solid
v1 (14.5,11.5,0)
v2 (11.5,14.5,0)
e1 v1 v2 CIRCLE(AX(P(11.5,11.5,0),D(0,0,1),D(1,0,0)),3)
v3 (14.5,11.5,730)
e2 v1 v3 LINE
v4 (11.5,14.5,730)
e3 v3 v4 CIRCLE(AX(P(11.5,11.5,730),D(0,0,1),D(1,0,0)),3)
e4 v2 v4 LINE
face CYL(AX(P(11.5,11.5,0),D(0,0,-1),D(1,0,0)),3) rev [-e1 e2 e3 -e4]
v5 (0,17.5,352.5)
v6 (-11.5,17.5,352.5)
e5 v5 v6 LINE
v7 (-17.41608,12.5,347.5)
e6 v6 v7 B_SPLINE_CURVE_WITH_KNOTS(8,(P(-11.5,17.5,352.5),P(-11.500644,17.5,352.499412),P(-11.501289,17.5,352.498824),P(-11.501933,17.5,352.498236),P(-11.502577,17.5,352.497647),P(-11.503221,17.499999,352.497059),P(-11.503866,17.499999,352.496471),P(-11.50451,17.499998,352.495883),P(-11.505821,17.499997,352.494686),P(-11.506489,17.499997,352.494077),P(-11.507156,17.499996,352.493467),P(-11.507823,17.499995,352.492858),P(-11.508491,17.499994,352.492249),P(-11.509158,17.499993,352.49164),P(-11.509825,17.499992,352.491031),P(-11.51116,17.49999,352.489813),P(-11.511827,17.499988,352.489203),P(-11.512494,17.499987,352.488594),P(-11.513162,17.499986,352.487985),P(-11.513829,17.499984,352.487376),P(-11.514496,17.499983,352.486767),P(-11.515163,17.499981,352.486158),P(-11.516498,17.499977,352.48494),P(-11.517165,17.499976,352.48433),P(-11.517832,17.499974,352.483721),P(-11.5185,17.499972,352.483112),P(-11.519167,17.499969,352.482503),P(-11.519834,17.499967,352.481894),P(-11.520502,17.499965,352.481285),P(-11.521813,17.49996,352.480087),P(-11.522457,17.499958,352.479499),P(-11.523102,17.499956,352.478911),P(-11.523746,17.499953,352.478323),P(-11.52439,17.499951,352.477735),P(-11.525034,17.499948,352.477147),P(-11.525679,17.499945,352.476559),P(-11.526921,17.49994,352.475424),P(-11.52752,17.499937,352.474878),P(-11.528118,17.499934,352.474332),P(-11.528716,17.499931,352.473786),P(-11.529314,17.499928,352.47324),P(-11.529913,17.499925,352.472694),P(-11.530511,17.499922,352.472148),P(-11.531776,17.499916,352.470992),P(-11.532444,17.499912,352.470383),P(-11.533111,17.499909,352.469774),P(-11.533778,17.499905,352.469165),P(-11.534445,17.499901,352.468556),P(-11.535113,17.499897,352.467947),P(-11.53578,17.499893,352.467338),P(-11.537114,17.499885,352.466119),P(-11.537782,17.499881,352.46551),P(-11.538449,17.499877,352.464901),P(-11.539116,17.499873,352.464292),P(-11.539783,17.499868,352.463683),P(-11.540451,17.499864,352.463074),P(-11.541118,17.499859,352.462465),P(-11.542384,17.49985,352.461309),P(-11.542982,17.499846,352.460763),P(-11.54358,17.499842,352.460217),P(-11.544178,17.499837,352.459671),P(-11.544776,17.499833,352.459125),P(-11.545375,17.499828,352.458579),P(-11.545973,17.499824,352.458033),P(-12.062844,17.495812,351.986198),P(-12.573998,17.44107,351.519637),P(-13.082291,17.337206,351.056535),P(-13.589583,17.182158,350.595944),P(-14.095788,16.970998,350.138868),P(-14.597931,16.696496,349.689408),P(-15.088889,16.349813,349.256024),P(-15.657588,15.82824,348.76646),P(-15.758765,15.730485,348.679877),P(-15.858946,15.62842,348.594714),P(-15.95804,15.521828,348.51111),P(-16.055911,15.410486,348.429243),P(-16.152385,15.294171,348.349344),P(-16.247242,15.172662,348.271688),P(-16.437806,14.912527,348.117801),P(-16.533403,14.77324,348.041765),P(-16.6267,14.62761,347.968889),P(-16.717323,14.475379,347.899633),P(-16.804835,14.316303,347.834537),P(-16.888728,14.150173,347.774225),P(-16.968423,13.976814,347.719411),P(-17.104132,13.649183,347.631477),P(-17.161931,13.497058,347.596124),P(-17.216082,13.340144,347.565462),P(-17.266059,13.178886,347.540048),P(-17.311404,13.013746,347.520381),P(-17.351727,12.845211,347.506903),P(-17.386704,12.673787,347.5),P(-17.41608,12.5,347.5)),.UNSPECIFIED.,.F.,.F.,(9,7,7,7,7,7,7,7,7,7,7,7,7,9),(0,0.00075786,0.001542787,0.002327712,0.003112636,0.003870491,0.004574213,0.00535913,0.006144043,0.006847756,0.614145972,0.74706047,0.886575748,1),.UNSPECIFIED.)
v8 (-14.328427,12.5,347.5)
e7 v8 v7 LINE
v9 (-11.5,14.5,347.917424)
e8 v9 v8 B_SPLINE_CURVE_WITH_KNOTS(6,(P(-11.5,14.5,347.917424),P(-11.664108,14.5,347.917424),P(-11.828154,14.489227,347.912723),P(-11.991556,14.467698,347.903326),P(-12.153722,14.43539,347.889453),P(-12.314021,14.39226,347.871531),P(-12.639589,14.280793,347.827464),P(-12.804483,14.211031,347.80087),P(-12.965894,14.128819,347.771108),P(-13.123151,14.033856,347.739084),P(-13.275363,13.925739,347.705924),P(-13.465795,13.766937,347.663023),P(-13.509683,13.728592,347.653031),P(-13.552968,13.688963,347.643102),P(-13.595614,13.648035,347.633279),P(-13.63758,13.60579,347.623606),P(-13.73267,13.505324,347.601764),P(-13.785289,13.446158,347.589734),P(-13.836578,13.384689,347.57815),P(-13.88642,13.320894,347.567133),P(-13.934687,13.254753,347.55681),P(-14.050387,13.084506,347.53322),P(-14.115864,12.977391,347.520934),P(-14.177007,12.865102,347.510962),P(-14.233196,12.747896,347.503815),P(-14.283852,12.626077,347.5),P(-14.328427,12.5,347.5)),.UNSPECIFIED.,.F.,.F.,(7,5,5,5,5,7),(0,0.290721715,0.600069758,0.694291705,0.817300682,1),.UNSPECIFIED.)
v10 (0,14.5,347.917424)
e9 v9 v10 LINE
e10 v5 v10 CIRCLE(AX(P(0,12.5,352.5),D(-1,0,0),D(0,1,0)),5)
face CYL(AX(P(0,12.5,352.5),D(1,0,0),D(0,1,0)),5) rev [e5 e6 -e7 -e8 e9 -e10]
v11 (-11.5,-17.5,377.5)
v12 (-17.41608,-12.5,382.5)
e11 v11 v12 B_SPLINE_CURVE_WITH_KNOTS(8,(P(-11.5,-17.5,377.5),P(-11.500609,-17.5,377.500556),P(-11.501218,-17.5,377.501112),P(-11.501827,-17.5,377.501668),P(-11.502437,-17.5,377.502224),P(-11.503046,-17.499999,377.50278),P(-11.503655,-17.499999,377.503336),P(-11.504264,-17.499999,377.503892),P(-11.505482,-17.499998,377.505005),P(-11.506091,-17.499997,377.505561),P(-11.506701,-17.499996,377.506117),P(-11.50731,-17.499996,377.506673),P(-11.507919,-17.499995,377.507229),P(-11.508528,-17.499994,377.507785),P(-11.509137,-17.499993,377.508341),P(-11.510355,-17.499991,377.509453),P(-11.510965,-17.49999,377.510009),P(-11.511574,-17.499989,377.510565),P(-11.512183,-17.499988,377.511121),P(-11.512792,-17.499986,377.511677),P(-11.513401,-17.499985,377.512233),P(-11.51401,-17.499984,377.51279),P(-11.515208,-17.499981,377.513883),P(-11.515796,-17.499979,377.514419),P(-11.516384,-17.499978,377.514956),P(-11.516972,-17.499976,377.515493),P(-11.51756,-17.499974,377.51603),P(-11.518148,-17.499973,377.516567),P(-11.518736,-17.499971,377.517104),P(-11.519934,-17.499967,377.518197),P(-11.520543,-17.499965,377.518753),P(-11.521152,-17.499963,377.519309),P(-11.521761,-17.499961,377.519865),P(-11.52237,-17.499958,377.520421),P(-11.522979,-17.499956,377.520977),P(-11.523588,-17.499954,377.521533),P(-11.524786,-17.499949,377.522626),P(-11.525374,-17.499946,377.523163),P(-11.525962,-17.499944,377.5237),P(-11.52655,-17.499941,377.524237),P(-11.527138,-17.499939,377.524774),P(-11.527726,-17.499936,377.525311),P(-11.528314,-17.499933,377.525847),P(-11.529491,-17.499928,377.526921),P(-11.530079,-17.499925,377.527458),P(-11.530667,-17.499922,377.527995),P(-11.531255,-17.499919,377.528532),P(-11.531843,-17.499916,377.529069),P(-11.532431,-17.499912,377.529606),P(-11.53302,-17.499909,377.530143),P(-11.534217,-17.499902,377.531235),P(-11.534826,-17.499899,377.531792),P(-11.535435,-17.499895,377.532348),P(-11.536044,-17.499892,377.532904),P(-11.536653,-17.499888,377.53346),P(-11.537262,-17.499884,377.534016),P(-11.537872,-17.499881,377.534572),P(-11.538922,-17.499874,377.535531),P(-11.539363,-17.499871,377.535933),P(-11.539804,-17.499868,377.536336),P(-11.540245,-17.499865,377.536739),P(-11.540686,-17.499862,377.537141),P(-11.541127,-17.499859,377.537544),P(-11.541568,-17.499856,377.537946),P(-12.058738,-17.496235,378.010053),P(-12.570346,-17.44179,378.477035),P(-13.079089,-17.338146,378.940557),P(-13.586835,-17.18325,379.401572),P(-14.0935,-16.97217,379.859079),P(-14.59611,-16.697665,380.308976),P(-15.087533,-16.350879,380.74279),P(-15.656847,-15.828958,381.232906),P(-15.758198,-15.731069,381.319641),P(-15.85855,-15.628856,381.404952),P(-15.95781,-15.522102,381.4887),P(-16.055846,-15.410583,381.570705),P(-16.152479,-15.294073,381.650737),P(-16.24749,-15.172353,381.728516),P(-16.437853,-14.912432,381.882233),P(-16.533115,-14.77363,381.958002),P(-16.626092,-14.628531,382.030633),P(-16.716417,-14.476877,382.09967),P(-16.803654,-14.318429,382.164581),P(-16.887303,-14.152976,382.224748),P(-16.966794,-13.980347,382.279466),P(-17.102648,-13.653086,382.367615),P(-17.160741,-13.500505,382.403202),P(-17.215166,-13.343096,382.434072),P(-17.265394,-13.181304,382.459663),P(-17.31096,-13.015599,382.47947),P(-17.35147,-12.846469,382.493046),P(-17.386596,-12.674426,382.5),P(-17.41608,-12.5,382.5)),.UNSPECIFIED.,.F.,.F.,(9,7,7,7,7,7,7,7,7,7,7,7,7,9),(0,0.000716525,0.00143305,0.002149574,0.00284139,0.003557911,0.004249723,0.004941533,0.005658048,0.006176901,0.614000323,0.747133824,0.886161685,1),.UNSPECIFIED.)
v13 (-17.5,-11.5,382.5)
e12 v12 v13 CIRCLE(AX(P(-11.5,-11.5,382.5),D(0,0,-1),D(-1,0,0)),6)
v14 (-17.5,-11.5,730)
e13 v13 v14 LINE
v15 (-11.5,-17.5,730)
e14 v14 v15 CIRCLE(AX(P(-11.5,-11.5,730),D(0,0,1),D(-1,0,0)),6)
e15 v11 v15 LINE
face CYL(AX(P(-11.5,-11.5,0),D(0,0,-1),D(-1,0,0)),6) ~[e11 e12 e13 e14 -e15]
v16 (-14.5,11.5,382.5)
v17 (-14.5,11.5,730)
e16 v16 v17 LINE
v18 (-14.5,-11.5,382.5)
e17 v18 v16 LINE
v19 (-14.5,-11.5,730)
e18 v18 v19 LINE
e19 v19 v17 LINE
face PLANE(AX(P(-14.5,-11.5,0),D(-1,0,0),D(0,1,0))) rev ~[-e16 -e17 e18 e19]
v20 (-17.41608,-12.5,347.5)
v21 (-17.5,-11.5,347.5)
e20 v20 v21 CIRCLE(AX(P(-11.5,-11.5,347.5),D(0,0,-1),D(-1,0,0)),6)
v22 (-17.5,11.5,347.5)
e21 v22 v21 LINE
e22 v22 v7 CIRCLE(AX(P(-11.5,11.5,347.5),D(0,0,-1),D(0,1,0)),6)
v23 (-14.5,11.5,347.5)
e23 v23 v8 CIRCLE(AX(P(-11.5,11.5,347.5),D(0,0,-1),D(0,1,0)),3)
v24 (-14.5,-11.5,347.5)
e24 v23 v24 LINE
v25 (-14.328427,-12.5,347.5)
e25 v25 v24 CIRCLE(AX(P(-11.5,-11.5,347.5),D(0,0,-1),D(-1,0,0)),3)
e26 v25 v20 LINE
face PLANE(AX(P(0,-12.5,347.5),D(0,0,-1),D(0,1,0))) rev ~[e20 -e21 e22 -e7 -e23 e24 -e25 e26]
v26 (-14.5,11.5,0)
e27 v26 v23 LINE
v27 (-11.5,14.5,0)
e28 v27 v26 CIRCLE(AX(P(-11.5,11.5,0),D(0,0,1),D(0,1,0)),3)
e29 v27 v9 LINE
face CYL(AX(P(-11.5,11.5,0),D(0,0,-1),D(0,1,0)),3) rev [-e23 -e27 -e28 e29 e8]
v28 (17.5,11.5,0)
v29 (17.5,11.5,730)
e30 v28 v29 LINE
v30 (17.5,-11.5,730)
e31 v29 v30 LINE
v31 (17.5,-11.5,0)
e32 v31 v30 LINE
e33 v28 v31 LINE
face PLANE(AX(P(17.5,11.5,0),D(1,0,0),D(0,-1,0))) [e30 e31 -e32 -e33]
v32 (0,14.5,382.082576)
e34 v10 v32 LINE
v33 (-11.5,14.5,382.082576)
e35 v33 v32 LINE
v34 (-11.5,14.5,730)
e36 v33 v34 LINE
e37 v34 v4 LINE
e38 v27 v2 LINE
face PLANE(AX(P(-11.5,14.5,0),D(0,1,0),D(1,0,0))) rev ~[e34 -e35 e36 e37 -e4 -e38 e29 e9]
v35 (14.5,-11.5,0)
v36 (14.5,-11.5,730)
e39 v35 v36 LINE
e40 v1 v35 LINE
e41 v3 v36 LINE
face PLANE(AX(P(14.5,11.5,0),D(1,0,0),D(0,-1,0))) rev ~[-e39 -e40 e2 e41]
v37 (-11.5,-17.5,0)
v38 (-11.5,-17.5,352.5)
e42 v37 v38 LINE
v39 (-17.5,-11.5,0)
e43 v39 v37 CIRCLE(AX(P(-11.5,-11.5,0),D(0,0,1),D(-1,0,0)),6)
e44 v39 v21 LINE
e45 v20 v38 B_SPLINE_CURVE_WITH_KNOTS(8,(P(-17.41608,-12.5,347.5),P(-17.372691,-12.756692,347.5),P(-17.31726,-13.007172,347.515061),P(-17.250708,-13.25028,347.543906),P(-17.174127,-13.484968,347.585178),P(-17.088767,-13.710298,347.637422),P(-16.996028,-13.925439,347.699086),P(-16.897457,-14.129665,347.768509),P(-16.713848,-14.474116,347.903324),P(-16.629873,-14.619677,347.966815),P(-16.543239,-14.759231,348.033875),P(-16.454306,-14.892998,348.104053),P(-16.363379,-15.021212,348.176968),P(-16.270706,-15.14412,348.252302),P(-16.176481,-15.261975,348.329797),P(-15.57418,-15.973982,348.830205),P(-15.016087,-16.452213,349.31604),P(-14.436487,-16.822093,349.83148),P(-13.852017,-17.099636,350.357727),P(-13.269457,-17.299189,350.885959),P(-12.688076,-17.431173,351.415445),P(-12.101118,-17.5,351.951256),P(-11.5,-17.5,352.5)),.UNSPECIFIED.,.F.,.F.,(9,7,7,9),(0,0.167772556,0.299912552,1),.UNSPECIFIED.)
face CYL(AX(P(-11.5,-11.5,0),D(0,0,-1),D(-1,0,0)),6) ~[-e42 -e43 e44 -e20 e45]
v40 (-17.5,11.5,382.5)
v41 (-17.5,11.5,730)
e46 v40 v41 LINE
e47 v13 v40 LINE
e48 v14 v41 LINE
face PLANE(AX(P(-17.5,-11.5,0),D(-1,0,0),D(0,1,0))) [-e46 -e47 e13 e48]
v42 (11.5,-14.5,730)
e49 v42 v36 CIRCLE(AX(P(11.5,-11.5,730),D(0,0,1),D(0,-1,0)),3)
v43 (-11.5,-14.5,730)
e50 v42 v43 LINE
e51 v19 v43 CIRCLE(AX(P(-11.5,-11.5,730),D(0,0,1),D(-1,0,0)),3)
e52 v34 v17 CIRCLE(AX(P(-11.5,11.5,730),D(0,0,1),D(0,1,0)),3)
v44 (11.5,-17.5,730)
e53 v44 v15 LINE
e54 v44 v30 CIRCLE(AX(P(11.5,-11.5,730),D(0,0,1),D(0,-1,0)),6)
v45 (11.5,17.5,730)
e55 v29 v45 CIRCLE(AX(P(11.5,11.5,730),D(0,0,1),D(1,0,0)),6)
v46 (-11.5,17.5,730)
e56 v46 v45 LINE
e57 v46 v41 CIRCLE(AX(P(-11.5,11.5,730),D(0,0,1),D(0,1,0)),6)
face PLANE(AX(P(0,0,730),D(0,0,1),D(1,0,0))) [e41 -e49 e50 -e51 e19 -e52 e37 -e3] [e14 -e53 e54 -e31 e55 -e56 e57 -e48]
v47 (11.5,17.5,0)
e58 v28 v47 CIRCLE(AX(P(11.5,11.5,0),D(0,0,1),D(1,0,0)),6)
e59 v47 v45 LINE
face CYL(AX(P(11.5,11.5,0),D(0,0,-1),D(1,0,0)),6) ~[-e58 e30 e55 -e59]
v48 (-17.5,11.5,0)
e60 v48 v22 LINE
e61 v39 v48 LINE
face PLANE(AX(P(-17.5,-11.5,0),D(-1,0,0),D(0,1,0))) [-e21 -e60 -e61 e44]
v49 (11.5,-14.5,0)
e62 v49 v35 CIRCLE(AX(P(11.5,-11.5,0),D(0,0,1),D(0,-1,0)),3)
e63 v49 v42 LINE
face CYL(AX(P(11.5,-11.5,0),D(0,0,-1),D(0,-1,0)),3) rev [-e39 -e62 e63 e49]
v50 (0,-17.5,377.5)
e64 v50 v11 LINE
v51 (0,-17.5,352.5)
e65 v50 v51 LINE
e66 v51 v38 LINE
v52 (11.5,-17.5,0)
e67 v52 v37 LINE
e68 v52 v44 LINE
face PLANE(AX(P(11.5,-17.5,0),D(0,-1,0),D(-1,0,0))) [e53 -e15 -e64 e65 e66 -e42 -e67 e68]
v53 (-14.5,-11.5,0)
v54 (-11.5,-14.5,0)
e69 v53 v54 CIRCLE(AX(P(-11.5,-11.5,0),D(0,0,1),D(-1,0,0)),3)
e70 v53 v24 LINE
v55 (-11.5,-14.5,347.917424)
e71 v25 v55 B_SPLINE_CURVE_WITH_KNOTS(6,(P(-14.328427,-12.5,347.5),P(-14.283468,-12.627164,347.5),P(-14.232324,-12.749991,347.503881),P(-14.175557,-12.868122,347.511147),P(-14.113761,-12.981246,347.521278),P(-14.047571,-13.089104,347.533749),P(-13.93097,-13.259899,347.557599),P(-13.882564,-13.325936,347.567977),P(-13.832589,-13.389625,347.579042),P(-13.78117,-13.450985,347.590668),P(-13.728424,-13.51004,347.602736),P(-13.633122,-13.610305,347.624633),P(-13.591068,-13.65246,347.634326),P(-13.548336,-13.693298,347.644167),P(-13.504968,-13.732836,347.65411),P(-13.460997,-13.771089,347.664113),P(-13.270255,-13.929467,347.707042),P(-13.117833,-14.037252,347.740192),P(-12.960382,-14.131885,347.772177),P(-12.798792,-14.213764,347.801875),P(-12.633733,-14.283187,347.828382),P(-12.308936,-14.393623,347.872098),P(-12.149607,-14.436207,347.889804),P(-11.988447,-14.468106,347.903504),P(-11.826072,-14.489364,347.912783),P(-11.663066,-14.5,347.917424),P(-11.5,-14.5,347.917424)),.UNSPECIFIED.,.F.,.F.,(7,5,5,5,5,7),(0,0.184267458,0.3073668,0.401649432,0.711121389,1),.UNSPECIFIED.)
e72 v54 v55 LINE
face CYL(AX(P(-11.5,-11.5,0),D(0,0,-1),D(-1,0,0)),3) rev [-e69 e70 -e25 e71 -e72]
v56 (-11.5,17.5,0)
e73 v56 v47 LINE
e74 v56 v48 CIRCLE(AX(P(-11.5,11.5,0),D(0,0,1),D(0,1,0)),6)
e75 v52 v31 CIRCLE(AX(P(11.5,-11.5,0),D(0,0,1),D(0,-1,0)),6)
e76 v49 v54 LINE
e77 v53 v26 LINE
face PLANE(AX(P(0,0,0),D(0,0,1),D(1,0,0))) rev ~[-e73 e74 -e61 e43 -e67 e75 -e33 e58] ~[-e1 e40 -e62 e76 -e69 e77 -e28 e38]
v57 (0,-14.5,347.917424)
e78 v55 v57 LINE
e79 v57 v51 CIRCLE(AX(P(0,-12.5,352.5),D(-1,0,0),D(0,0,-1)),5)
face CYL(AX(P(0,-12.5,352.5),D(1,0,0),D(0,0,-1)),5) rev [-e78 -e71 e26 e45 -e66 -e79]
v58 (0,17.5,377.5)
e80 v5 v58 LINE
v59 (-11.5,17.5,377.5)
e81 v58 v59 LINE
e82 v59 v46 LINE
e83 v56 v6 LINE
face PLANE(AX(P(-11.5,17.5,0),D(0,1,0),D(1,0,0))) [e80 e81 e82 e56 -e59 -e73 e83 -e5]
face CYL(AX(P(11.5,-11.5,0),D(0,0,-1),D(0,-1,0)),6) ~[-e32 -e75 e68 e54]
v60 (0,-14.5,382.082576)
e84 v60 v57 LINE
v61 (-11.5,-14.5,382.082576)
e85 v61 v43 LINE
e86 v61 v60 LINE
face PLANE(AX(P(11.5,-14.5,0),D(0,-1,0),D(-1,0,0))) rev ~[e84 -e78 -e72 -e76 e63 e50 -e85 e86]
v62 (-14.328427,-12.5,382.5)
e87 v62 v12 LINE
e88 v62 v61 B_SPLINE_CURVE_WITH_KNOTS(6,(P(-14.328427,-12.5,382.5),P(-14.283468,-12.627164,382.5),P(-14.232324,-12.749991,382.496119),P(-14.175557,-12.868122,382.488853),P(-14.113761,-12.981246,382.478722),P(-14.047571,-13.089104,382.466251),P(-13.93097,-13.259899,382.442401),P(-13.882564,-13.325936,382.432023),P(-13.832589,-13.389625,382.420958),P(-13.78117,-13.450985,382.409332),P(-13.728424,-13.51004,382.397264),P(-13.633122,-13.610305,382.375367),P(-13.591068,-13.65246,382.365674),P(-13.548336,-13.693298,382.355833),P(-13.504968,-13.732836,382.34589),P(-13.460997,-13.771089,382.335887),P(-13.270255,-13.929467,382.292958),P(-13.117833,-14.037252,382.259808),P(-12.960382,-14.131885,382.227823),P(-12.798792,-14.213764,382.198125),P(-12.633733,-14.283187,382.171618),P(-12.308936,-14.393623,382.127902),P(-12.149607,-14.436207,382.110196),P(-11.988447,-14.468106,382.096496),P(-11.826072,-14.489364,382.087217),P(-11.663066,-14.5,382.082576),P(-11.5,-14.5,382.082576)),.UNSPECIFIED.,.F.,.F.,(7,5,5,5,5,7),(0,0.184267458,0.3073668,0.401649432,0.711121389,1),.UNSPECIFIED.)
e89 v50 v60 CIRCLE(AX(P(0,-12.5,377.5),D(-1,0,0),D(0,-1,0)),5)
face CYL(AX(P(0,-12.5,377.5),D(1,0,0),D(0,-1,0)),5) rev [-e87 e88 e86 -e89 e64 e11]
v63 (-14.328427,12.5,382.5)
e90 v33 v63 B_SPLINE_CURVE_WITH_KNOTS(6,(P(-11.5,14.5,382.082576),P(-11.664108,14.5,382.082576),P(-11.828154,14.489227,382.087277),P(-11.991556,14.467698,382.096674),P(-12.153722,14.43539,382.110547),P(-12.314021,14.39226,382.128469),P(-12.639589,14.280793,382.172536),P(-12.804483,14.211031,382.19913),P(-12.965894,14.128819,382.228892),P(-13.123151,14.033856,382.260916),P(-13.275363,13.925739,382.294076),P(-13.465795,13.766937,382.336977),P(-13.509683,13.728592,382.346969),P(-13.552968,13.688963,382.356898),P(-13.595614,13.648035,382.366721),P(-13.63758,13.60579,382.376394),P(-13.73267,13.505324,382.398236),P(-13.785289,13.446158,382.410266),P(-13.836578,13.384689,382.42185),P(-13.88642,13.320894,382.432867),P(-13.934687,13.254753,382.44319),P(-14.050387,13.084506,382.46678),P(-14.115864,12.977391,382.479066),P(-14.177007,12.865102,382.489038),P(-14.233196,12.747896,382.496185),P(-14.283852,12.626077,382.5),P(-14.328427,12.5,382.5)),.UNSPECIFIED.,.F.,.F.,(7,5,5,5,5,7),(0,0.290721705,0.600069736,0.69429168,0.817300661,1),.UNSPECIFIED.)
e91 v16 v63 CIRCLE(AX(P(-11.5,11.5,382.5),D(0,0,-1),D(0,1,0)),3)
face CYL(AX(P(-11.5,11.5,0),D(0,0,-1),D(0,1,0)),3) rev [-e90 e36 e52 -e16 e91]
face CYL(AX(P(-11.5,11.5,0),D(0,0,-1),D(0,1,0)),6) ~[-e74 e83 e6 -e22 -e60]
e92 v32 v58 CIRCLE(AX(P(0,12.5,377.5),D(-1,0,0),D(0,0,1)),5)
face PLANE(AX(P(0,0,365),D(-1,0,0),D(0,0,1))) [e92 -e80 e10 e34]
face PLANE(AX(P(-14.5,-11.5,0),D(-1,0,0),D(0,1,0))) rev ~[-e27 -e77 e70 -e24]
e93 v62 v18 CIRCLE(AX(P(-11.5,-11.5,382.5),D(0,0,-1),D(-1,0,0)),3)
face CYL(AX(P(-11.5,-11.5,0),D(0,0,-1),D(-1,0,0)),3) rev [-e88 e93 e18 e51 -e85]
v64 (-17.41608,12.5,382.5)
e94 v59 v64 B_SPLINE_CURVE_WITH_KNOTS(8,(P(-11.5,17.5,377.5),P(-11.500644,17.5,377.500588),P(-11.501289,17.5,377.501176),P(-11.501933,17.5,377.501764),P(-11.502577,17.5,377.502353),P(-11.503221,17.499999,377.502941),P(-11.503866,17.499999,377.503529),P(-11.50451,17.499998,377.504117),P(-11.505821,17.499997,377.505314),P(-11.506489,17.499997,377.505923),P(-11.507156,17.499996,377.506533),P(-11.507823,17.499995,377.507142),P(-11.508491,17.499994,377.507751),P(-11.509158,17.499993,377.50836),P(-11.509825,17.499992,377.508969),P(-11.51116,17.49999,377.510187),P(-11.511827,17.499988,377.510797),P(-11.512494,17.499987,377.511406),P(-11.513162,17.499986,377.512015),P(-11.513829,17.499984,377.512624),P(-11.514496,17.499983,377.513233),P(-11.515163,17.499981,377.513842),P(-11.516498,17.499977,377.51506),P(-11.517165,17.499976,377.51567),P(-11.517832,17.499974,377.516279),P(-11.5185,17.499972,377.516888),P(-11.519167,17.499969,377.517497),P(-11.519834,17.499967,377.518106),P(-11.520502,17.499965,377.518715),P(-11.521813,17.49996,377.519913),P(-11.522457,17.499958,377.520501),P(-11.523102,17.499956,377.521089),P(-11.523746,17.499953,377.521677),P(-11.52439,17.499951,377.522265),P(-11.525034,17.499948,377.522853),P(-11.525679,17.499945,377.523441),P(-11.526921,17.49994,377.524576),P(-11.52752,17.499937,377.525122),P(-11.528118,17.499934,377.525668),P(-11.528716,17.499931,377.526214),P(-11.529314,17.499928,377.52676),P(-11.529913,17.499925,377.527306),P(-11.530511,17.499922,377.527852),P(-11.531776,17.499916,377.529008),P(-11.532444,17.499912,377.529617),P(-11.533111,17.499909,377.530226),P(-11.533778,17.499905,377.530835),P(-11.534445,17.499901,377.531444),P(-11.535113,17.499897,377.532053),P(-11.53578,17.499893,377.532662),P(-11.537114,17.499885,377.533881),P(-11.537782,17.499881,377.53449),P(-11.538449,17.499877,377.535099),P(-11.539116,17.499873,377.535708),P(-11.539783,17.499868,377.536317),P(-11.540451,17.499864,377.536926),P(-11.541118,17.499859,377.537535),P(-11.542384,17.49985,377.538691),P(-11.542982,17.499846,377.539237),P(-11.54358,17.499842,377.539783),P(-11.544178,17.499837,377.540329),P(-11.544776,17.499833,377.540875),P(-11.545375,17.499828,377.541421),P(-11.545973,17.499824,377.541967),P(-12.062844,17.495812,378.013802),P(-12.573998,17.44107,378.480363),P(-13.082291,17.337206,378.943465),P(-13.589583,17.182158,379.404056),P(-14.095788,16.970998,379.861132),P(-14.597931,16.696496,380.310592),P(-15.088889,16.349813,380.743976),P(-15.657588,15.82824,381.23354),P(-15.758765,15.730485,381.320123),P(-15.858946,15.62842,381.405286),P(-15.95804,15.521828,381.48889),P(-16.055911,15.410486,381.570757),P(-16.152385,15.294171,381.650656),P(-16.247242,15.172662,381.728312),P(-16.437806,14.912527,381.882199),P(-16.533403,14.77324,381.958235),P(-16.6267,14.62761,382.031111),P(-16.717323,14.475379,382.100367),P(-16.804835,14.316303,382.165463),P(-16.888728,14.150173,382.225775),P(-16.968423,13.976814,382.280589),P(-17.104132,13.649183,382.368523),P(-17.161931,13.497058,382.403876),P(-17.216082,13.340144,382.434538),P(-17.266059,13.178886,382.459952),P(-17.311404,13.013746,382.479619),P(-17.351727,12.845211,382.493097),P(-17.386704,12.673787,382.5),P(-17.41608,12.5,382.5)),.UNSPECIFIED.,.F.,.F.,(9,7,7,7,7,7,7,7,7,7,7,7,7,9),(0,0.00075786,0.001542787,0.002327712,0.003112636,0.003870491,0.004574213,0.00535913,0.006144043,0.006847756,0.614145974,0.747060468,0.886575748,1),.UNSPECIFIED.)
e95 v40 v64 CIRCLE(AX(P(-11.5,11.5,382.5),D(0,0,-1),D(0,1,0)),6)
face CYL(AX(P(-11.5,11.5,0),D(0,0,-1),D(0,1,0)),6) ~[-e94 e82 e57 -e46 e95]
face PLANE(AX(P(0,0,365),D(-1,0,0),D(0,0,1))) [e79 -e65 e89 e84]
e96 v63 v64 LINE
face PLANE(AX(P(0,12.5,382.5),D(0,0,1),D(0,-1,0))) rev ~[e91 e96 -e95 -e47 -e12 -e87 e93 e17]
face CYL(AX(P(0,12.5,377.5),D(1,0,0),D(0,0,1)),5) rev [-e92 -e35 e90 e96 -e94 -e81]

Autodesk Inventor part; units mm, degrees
ref_plane "Start plane" through (0, 0, 0) normal (0, 0, 1) x (1, 0, 0)
ref_plane "End plane" through (0, 0, 730) normal (0, 0, 1) x (1, 0, 0)
sketch "Sketch" plane through (0, 0, 0) normal (0, 0, 1) x (1, 0, 0)
  line L0 (-17.5, -11.5) -> (-17.5, 11.5)
  line L1 (-11.5, 17.5) -> (11.5, 17.5)
  line L2 (17.5, 11.5) -> (17.5, -11.5)
  line L3 (11.5, -17.5) -> (-11.5, -17.5)
  arc A0 (-17.5, -11.5) -> (-11.5, -17.5) centre (-11.5, -11.5) ccw
  arc A1 (-11.5, 17.5) -> (-17.5, 11.5) centre (-11.5, 11.5) ccw
  arc A2 (17.5, 11.5) -> (11.5, 17.5) centre (11.5, 11.5) ccw
  arc A3 (11.5, -17.5) -> (17.5, -11.5) centre (11.5, -11.5) ccw
  arc A4 (-11.5, 14.5) -> (-14.5, 11.5) centre (-11.5, 11.5) ccw
  line L4 (-11.5, 14.5) -> (11.5, 14.5)
  arc A5 (14.5, 11.5) -> (11.5, 14.5) centre (11.5, 11.5) ccw
  line L5 (14.5, 11.5) -> (14.5, -11.5)
  arc A6 (11.5, -14.5) -> (14.5, -11.5) centre (11.5, -11.5) ccw
  line L6 (11.5, -14.5) -> (-11.5, -14.5)
  arc A7 (-14.5, -11.5) -> (-11.5, -14.5) centre (-11.5, -11.5) ccw
  line L7 (-14.5, -11.5) -> (-14.5, 11.5)
  line L8 (0, 25.4278) -> (0, -25.4278) construction
  line L9 (-25.4278, 0) -> (25.4278, 0) construction
  dimension "d7" = 6
  dimension "d10" = 35
  dimension "d11" = 35
  dimension "d12" = 3
  dimension "d15" = 17.5
  dimension "d16" = 17.5
extrude "Body" add sketch "Sketch" along normal up to surface (730 mm away) from surface at 0
sketch "Sketch3" plane through (0, 0, 0) normal (0, 0, 1) x (1, 0, 0)
  line L0 (0, 0) -> (10, 0)
ref_plane "Work Plane3" through (0, 0, 0) normal (0, -1, 0) x (1, 0, 0)
sketch "Sketch4" plane through (0, 0, 0) normal (0, -1, 0) x (1, 0, 0)
  line L0 (-2, 0) -> (12, 0)
  line L1 (-2, 730) -> (12, 730)
  dimension "d18" = 730
ref_plane "Work Plane4" through (0, 0, 365) normal (-1, 0, 0) x (0, 0, 1)
ref_plane "Work Plane5" through (-430, 0, 365) normal (-1, 0, 0) x (0, 0, 1)
ref_plane "Work Plane6" through (-215, 0, 365) normal (-1, 0, 0) x (0, 0, 1)
sketch "Sketch5" plane through (-215, 0, 365) normal (-1, 0, 0) x (0, 0, 1)
  arc A0 (-17.5, -12.5) -> (-12.5, -17.5) centre (-12.5, -12.5) ccw
  line L0 (-17.5, -12.5) -> (-17.5, 12.5)
  arc A1 (-12.5, 17.5) -> (-17.5, 12.5) centre (-12.5, 12.5) ccw
  line L1 (-12.5, 17.5) -> (12.5, 17.5)
  arc A2 (17.5, 12.5) -> (12.5, 17.5) centre (12.5, 12.5) ccw
  line L2 (17.5, 12.5) -> (17.5, -12.5)
  arc A3 (12.5, -17.5) -> (17.5, -12.5) centre (12.5, -12.5) ccw
  line L3 (12.5, -17.5) -> (-12.5, -17.5)
  arc A4 (-12.5, 15) -> (-15, 12.5) centre (-12.5, 12.5) ccw
  line L4 (-12.5, 15) -> (12.5, 15)
  arc A5 (15, 12.5) -> (12.5, 15) centre (12.5, 12.5) ccw
  line L5 (15, 12.5) -> (15, -12.5)
  arc A6 (12.5, -15) -> (15, -12.5) centre (12.5, -12.5) ccw
  line L6 (12.5, -15) -> (-12.5, -15)
  arc A7 (-15, -12.5) -> (-12.5, -15) centre (-12.5, -12.5) ccw
  line L7 (-15, -12.5) -> (-15, 12.5)
extrude "Extrusion2" cut sketch "Sketch5" along normal up to surface (430 mm away) from surface at -215 contours L0 A1 L1 A2 L2 A3 L3 A0 | L4 A5 L5 A6 L6 A7 L7 A4
equation "\"d7\" = G_IR"
equation "\"d10\" = G_H"
equation "\"d11\" = G_W"
equation "\"d12\" = G_T"
equation "\"d15\" = 0.5 * d10"
equation "\"d16\" = 0.5 * d11"
equation "\"d3\" = G_L"
equation "\"G_W\" = 35"
equation "\"G_H\" = 35"
equation "\"G_T\" = 3"
equation "\"G_IR\" = 6"
equation "\"G_L\" = d18"
equation "\"G_OFFSET_START\" = 0"
equation "\"G_OFFSET_END\" = 0"
properties part number "AS 1163 - C350L0 35x35x3.0 SHS - 730" material "Steel, Mild"
